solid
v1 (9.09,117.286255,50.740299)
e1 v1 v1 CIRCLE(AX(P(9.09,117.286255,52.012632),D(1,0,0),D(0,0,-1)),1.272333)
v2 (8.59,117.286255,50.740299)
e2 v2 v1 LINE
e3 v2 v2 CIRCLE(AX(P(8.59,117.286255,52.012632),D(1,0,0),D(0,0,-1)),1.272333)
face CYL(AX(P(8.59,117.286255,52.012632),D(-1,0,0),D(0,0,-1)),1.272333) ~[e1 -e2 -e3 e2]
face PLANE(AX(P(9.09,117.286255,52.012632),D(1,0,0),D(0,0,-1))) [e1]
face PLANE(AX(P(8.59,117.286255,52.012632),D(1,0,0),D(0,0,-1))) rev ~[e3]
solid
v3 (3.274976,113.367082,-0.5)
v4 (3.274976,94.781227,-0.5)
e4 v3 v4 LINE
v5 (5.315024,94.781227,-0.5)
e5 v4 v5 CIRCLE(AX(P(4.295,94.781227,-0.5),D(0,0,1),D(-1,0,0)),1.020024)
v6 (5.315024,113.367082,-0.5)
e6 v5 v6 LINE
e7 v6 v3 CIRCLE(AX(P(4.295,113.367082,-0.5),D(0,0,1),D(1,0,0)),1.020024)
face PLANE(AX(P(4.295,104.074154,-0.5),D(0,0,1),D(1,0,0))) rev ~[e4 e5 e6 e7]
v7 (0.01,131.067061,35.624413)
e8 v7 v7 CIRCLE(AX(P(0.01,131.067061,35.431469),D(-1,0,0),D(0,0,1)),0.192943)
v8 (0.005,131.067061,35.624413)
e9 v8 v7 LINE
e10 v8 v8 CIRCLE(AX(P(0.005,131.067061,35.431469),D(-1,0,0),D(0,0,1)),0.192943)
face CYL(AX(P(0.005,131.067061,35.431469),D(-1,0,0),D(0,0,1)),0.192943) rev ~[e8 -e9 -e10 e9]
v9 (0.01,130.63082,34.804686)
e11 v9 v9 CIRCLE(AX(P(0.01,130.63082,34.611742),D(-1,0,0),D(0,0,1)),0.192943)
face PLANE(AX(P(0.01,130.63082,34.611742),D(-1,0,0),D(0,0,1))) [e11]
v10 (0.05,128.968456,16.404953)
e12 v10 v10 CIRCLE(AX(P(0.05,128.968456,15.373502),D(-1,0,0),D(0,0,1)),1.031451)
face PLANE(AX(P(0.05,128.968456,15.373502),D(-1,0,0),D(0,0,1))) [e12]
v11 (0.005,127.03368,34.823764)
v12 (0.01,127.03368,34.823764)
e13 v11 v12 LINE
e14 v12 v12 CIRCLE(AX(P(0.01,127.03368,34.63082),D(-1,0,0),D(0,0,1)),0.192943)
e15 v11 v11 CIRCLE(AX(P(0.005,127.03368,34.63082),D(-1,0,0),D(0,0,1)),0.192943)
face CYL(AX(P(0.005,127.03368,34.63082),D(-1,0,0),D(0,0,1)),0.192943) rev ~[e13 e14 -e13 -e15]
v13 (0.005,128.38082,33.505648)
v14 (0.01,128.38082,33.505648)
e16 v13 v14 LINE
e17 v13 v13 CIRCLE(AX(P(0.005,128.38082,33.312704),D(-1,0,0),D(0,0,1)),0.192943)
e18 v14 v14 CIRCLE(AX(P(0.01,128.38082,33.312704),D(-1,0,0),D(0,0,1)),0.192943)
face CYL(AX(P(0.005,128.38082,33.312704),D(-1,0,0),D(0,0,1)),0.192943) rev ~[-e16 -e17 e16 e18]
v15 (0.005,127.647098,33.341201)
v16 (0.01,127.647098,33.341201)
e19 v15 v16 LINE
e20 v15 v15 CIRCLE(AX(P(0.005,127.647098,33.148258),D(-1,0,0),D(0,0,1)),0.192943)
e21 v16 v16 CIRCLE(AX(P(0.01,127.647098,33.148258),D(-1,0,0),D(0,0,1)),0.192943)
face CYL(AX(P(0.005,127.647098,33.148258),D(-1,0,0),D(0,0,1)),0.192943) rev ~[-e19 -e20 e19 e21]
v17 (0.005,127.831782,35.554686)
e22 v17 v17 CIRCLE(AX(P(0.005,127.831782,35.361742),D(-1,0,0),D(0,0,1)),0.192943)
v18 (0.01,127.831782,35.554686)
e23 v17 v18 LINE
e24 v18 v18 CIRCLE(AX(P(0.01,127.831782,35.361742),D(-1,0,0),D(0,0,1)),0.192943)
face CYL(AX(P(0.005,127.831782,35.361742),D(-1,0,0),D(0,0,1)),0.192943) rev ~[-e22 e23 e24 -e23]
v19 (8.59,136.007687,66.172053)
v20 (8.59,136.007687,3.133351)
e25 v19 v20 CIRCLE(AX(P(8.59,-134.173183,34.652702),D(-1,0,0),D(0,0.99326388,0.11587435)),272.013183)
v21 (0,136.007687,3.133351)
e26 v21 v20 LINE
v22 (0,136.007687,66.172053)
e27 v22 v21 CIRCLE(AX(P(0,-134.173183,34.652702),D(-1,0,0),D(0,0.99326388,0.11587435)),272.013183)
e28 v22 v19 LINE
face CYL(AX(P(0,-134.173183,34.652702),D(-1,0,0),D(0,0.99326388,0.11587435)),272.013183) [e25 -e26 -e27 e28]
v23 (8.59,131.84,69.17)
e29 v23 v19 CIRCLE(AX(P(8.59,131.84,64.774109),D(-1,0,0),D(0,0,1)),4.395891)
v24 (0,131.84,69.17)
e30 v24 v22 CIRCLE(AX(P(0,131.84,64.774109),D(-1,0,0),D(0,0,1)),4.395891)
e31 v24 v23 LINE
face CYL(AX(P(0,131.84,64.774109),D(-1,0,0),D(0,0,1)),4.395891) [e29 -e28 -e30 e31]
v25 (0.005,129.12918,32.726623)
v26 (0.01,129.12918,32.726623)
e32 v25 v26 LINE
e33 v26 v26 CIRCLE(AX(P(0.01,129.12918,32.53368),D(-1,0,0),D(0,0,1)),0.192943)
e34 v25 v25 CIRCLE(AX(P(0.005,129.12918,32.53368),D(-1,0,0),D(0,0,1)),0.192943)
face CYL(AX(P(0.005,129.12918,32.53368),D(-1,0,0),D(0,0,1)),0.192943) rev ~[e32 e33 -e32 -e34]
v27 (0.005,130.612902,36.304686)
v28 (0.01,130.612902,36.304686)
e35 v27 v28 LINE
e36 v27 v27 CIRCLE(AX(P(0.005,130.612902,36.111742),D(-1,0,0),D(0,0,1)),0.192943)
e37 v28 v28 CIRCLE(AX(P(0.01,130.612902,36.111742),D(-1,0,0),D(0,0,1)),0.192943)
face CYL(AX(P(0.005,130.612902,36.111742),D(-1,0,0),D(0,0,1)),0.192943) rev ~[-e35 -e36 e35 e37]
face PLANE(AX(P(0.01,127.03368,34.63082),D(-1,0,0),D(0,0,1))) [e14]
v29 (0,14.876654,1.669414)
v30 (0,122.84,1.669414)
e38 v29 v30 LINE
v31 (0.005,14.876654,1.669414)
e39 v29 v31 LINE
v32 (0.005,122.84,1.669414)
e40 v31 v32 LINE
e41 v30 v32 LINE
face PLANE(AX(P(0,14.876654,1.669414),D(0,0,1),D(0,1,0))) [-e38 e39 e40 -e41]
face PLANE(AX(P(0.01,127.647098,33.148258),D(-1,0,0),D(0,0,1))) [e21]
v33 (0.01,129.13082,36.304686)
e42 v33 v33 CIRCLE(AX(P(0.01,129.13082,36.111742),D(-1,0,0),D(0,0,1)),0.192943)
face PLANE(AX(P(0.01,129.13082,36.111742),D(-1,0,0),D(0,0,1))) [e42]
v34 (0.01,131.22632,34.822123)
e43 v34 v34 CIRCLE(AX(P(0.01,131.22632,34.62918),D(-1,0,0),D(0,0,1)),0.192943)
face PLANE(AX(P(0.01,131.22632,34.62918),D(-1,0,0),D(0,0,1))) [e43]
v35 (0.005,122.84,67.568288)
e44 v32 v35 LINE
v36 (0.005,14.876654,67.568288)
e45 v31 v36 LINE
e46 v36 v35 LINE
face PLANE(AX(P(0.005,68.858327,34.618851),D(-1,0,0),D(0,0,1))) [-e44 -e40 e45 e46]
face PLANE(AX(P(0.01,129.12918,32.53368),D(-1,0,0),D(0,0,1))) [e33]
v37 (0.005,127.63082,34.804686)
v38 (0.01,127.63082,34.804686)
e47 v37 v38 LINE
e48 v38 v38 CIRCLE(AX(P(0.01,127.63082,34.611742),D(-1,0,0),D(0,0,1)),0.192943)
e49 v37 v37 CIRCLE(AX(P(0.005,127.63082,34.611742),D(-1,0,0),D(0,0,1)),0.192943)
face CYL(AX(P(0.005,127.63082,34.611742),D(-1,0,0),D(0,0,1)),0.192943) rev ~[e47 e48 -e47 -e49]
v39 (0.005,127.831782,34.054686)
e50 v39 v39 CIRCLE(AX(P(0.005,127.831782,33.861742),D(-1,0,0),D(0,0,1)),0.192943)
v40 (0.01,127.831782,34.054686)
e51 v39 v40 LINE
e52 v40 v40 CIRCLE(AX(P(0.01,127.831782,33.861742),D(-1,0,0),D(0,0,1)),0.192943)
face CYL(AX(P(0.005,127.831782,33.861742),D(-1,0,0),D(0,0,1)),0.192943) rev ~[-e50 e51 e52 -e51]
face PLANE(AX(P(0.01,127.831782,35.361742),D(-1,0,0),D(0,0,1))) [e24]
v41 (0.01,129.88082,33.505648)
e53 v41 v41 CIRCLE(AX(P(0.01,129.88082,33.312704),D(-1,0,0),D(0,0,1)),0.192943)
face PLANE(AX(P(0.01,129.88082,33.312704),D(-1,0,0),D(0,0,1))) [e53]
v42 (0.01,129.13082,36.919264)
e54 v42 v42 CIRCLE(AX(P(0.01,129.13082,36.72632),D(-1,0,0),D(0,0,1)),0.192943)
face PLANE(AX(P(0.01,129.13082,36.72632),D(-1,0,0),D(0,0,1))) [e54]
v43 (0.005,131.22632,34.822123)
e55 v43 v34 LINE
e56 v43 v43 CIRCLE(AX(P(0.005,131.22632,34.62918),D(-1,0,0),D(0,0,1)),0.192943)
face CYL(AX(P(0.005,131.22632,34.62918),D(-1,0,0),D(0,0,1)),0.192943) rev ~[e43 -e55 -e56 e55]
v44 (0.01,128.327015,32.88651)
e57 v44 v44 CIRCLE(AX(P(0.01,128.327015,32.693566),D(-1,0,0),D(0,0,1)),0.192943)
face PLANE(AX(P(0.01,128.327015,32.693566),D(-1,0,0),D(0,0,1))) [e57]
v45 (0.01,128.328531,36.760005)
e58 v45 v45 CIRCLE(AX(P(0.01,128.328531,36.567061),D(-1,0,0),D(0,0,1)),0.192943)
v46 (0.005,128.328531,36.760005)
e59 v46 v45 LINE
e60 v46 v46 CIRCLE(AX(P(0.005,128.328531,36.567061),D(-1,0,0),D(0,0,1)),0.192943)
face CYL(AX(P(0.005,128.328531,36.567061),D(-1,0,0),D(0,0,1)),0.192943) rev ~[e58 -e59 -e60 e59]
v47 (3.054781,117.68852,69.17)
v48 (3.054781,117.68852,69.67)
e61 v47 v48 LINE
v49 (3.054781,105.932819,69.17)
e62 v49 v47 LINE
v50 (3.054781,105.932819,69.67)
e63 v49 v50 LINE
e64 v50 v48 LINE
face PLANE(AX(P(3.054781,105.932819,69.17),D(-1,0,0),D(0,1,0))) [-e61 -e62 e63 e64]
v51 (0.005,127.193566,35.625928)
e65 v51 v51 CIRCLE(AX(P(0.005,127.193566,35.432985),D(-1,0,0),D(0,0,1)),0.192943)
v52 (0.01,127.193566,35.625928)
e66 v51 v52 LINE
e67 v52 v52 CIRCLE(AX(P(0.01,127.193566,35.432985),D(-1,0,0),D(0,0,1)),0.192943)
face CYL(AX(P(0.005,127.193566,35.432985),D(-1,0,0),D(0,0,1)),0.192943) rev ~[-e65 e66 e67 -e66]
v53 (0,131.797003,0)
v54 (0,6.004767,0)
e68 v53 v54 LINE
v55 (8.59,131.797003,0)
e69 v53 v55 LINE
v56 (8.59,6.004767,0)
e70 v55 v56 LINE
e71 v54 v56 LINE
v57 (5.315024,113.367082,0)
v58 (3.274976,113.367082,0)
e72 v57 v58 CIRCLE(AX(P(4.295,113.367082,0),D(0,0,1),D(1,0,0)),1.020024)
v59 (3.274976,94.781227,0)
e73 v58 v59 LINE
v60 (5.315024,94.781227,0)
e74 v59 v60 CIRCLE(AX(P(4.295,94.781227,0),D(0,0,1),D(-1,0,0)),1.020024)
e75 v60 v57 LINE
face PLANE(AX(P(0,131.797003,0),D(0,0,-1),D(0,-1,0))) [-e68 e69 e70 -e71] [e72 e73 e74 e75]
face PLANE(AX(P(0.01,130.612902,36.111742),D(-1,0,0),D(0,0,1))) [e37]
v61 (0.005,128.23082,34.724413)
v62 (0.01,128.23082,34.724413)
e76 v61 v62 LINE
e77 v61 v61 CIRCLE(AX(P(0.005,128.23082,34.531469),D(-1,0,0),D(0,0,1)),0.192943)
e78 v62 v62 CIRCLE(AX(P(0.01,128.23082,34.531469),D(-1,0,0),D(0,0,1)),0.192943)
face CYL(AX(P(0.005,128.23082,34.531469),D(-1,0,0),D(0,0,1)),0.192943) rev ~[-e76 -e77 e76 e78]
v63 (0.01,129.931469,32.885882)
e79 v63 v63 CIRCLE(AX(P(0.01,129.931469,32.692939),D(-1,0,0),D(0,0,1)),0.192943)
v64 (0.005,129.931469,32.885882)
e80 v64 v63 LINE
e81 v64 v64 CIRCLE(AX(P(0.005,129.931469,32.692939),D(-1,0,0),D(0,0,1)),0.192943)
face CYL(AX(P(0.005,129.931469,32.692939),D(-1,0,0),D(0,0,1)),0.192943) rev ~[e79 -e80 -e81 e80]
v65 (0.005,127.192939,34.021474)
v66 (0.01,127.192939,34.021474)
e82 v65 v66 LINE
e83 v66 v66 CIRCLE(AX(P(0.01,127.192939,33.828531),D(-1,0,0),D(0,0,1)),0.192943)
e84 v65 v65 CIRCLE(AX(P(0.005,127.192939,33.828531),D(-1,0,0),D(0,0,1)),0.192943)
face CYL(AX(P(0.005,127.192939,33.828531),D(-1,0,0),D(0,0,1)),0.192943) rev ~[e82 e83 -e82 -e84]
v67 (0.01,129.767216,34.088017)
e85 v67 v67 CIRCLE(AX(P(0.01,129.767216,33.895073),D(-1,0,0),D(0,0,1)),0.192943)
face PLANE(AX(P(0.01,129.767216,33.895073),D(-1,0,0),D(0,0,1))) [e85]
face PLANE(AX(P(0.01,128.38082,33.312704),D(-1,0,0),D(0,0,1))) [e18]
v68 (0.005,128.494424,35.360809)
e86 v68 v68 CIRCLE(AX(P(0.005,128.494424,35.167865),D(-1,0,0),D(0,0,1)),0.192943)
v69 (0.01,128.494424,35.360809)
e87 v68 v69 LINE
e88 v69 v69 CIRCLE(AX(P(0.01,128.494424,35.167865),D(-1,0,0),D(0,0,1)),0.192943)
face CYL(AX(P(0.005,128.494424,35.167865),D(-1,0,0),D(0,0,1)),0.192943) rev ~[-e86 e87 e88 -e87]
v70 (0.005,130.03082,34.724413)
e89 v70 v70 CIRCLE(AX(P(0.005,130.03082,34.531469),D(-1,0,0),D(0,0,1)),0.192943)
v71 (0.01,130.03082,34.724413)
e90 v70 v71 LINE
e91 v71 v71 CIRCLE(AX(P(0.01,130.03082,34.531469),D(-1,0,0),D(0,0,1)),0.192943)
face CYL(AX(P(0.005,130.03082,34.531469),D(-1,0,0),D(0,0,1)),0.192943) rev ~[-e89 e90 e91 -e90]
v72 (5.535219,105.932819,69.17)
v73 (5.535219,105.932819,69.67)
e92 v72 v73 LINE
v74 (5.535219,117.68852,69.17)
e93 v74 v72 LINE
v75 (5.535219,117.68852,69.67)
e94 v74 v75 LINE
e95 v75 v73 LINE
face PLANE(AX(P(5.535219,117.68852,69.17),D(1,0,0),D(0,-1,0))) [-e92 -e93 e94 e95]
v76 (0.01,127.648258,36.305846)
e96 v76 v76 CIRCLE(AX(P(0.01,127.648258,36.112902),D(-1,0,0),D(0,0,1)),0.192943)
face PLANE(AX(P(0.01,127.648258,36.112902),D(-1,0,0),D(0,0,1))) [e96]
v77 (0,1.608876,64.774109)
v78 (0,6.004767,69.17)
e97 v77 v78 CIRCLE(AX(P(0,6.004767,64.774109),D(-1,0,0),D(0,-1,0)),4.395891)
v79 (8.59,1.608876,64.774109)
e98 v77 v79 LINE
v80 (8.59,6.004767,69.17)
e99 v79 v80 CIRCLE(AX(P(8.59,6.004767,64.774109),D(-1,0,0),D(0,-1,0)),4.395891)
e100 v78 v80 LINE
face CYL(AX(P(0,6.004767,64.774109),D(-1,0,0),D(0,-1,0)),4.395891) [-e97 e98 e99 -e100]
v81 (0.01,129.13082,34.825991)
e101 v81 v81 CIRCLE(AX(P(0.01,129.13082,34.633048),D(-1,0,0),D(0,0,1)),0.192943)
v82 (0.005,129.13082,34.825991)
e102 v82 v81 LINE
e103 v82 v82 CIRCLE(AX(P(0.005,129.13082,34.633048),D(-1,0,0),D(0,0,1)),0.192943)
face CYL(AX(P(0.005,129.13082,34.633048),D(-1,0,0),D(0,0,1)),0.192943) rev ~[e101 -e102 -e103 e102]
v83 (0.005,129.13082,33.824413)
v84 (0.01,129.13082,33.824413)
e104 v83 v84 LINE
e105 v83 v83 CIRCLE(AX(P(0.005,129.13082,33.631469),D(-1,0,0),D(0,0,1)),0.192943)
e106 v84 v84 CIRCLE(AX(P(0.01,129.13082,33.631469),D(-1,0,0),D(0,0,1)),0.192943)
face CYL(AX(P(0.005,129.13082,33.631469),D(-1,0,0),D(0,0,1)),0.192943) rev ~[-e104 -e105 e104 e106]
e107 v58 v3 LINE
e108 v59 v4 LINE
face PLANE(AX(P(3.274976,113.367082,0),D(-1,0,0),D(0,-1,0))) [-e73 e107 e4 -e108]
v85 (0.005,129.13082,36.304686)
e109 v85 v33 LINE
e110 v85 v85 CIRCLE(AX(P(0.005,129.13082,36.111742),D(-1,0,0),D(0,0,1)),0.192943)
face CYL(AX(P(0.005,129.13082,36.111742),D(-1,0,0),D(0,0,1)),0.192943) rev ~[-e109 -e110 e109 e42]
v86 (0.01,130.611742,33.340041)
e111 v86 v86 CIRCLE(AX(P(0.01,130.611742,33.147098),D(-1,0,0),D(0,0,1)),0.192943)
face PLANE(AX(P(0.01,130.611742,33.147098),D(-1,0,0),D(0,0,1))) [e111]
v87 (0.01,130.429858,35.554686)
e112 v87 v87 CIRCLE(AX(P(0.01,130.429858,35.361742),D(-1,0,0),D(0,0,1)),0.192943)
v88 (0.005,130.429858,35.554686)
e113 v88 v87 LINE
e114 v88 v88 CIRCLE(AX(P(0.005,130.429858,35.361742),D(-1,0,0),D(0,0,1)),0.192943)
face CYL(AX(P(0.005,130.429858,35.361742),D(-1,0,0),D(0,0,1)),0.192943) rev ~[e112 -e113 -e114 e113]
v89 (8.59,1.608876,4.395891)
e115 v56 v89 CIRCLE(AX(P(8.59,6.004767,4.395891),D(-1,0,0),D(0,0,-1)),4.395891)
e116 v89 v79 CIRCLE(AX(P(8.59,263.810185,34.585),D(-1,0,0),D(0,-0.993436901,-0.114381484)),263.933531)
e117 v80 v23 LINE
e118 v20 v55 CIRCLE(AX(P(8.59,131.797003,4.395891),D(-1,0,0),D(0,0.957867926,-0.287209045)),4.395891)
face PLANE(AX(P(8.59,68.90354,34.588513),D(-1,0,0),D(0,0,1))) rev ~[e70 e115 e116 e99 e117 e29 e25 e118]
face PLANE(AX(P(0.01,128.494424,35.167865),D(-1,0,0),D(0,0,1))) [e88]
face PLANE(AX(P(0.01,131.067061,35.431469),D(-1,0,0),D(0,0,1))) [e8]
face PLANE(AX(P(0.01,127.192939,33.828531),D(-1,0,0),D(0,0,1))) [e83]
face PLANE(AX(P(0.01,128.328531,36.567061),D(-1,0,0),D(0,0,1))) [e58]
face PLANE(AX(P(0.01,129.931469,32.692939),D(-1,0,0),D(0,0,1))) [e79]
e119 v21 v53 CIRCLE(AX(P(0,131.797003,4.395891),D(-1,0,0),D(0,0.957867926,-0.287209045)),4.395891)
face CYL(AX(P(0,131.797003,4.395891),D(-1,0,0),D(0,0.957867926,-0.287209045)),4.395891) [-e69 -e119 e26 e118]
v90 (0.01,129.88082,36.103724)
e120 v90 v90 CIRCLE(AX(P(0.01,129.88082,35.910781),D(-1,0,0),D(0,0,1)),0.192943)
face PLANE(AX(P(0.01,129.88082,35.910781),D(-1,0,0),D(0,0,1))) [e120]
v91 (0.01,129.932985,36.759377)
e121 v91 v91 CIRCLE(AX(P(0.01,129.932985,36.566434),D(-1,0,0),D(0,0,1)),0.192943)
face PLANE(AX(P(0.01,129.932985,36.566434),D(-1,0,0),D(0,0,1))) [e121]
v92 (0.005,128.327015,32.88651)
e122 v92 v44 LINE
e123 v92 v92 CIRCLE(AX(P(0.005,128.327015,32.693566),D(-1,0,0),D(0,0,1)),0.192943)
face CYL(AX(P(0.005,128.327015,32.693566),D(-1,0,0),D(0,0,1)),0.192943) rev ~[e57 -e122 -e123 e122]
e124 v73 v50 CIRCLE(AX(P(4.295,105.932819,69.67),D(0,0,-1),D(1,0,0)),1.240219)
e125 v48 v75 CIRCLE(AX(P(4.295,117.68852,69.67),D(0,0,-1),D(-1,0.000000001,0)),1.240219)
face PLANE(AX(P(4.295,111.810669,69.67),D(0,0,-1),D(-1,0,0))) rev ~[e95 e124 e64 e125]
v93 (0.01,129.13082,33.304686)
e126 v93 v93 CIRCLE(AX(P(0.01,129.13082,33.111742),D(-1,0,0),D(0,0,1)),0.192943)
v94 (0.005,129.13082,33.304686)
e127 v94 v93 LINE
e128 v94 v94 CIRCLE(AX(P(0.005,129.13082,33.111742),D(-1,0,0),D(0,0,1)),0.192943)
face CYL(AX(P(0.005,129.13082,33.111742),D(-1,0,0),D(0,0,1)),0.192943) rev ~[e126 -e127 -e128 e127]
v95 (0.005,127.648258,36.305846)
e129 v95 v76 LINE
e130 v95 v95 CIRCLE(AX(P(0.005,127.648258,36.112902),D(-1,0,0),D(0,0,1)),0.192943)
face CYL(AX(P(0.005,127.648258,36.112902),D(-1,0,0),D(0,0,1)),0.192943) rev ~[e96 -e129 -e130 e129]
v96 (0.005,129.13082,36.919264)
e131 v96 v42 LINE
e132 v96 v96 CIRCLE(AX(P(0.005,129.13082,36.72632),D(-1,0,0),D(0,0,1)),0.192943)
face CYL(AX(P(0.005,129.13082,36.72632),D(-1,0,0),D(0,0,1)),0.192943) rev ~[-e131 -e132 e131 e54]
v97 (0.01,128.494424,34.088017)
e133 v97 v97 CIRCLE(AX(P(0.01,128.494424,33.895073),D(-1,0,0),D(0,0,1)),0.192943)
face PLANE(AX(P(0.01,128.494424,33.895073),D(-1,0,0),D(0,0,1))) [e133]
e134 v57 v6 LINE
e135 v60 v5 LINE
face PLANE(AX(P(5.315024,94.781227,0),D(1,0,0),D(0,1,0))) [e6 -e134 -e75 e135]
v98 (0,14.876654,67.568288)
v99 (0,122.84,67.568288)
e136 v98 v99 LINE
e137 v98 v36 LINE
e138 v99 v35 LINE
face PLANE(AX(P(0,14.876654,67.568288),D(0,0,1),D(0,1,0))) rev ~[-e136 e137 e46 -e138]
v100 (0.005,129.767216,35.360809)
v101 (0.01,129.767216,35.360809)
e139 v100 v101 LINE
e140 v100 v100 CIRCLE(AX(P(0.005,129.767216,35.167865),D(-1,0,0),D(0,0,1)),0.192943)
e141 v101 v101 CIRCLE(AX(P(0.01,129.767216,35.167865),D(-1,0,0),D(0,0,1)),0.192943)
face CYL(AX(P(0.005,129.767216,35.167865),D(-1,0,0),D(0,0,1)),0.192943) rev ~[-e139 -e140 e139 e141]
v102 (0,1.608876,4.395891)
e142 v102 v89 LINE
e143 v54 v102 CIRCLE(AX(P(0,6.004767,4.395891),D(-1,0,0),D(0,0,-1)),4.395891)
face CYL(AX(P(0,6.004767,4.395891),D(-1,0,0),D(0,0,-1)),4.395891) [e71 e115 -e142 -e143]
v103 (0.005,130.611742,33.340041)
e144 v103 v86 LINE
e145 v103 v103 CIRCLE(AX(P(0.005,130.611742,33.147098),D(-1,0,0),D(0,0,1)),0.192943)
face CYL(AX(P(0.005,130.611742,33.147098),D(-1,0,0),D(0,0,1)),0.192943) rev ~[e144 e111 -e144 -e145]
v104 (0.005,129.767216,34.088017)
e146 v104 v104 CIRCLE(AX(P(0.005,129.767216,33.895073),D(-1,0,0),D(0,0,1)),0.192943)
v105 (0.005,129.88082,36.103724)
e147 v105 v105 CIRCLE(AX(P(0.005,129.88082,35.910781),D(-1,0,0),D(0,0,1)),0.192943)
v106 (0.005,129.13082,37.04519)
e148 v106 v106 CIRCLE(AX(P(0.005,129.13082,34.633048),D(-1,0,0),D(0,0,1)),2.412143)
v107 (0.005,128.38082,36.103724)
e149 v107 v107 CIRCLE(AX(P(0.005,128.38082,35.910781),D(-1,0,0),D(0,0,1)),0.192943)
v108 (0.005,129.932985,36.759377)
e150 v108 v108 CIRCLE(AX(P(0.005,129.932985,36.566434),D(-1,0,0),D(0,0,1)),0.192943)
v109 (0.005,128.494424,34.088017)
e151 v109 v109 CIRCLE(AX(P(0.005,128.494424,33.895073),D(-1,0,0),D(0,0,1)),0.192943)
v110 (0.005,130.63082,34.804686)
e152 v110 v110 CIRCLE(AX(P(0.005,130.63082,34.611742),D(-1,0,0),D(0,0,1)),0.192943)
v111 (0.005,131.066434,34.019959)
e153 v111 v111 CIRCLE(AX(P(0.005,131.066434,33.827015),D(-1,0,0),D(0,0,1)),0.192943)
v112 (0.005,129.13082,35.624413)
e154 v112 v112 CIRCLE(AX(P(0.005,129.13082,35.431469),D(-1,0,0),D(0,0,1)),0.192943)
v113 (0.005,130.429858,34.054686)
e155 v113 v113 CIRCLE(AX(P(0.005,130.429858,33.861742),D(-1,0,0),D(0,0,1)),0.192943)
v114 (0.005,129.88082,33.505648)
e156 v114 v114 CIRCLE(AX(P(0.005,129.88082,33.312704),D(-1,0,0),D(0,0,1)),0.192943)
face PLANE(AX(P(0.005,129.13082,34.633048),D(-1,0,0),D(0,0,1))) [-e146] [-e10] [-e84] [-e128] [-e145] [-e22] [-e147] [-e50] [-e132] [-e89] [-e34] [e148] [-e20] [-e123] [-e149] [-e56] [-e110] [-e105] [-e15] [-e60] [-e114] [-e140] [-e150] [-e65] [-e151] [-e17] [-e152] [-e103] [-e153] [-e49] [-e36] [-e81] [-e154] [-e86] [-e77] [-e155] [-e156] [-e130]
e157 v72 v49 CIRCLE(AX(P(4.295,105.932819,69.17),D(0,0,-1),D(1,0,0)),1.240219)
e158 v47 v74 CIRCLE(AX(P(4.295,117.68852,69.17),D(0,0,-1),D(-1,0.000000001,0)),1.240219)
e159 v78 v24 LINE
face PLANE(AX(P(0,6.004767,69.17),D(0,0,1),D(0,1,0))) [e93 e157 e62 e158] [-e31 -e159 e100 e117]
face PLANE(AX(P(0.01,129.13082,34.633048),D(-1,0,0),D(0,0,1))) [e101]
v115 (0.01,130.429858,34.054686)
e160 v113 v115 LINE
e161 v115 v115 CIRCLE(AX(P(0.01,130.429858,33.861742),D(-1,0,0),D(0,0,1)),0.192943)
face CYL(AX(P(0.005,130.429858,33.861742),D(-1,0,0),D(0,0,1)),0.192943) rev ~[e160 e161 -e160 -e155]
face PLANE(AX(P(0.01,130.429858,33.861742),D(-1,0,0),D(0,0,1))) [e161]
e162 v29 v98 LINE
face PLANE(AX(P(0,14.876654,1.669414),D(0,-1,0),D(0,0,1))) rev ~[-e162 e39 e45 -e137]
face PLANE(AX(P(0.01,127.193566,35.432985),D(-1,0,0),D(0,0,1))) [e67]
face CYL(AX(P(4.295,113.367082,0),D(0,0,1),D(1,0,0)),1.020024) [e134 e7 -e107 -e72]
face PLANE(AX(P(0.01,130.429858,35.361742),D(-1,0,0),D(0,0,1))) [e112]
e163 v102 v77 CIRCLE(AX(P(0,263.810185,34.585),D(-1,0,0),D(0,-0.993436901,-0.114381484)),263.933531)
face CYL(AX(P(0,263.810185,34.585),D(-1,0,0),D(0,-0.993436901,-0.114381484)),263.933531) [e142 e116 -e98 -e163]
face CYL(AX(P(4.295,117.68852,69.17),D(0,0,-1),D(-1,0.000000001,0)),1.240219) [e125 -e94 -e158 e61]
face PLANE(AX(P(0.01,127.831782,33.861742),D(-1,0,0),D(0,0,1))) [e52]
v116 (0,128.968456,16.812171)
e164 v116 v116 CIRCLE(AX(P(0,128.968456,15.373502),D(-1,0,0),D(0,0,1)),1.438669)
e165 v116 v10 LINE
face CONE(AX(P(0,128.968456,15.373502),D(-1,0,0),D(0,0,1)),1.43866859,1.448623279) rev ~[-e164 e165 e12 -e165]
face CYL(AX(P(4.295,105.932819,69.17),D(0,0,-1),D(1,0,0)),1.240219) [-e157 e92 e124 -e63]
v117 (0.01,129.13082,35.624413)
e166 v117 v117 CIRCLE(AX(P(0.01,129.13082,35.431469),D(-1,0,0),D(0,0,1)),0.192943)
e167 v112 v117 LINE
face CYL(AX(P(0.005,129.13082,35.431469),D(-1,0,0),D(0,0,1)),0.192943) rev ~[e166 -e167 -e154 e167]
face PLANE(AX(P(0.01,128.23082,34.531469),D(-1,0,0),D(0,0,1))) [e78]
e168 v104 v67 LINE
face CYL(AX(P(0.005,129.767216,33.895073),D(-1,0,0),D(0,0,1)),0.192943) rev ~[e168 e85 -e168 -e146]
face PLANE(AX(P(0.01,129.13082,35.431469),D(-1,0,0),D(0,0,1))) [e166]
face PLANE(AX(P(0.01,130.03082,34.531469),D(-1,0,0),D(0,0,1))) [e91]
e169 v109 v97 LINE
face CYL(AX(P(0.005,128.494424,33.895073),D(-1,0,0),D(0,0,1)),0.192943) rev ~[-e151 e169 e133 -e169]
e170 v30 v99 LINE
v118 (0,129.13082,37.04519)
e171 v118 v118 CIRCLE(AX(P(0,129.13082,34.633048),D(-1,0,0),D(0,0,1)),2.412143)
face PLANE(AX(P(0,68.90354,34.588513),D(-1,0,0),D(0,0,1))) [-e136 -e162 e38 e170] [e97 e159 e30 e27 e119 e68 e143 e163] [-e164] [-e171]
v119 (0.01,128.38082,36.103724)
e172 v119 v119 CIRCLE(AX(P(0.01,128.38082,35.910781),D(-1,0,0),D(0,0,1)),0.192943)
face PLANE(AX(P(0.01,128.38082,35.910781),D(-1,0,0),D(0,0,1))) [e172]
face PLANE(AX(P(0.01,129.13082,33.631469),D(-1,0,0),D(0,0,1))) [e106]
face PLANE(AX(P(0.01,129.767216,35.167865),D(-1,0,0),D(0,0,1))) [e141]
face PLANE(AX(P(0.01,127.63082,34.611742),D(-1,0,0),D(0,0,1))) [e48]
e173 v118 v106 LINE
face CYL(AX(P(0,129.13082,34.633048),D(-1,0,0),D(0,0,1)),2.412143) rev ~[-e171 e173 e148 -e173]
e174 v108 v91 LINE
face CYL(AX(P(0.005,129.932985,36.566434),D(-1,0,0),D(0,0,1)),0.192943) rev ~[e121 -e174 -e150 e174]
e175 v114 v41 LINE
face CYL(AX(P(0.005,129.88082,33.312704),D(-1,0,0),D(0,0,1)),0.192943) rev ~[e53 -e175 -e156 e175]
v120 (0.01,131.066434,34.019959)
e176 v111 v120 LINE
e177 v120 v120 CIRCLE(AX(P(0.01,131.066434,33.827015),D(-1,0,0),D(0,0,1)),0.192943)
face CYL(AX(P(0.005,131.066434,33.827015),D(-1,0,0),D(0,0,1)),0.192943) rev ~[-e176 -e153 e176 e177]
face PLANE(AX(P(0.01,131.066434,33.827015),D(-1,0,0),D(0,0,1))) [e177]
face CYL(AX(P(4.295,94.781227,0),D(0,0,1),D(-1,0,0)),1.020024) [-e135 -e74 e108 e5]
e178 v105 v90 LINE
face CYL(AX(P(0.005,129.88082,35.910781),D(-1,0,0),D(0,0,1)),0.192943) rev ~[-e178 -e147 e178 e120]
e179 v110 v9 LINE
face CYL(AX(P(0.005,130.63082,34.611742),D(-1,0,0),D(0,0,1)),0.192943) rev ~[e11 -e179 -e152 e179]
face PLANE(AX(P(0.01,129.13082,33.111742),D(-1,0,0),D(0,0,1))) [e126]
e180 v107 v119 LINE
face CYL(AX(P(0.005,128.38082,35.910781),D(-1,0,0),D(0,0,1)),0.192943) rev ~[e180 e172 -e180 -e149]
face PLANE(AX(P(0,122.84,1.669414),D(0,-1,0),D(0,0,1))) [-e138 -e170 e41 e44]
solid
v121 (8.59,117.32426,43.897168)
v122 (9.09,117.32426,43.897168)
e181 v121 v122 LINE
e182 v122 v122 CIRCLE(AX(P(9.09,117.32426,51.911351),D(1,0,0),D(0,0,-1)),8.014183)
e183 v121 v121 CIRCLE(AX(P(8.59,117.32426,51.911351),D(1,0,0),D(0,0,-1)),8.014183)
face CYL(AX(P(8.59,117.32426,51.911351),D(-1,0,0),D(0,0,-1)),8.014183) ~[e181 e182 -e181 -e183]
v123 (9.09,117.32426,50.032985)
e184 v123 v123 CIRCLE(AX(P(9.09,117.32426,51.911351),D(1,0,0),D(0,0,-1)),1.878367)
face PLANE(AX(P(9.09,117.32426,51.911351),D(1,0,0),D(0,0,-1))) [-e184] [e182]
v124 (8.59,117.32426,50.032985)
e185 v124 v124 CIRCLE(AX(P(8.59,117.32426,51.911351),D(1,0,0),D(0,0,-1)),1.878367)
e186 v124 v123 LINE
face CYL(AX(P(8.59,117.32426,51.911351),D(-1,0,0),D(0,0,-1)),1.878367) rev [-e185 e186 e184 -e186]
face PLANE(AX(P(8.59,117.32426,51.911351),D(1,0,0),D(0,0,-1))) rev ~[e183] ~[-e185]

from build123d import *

# Parameters (mm, degrees)
BOSS_EXTRU_2_DEPTH      = 8.59
ESQUISSE2_W             = 65.898874386
ESQUISSE2_H             = 107.963346122
ENL_V_MAT_EXTRU_1_DEPTH = 0.005
ESQUISSE3_R             = 2.412142612
ENL_V_MAT_EXTRU_2_DEPTH = 0.005
ESQUISSE4_R             = 0.192943447
ENL_V_MAT_EXTRU_3_DEPTH = 0.005
ESQUISSE5_R             = 1.43866859
ENL_V_MAT_EXTRU_4_DEPTH = 0.05
ENL_V_MAT_EXTRU_4_DRAFT = -83
ESQUISSE6_R             = 8.014182706
ESQUISSE6_R_2           = 1.878366617
BOSS_EXTRU_4_DEPTH      = 0.5
ESQUISSE9_R             = 1.272333161
BOSS_EXTRU_6_DEPTH      = 0.5
BOSS_EXTRU_7_DEPTH      = 0.5
BOSS_EXTRU_8_DEPTH      = 0.5


with BuildPart() as part:
    # Esquisse1 → Boss.-Extru.2 (new body)
    with BuildSketch(Plane(origin=(0, 0, 0), x_dir=(0, 0, -1), z_dir=(1, 0, 0))):
        with BuildLine():
            ThreePointArc((-64.77410887, 1.608875783), (-67.882473298, 2.896402486), (-69.17, 6.004766913))
            Line((-69.17, 6.004766913), (-69.17, 131.84))
            ThreePointArc((-69.17, 131.84), (-68.342656845, 134.406967896), (-66.17205306, 136.007686512))
            ThreePointArc((-66.17205306, 136.007686512), (-34.652702248, 137.84), (-3.133351436, 136.007686512))
            ThreePointArc((-3.133351436, 136.007686512), (-0.86928895, 134.42130061), (0, 131.797003391))
            Line((0, 131.797003391), (0, 6.004766913))
            ThreePointArc((0, 6.004766913), (-1.287526702, 2.896402486), (-4.39589113, 1.608875783))
            ThreePointArc((-4.39589113, 1.608875783), (-34.585, -0.123346122), (-64.77410887, 1.608875783))
        make_face()
    extrude(amount=BOSS_EXTRU_2_DEPTH)

    # Esquisse2 → Enlèv. mat.-Extru.1 (cut)
    with BuildSketch(Plane.ZY):
        with Locations((34.618851124, 68.858326939)):
            Rectangle(ESQUISSE2_W, ESQUISSE2_H)
    extrude(amount=-ENL_V_MAT_EXTRU_1_DEPTH, mode=Mode.SUBTRACT)

    # Esquisse3 → Enlèv. mat.-Extru.2 (cut)
    with BuildSketch(Plane.ZY):
        with Locations((34.63304788, 129.130820167)):
            Circle(ESQUISSE3_R)
    extrude(amount=-ENL_V_MAT_EXTRU_2_DEPTH, mode=Mode.SUBTRACT)

    # Esquisse4 → Enlèv. mat.-Extru.3 (cut)
    with BuildSketch(Plane.ZY.offset(-0.005)):
        with Locations((36.726320497, 129.130820167)):
            Circle(ESQUISSE4_R)
        with Locations((36.567061466, 128.328530612)):
            Circle(ESQUISSE4_R)
        with Locations((36.112902385, 127.648257506)):
            Circle(ESQUISSE4_R)
        with Locations((35.432984859, 127.193566263)):
            Circle(ESQUISSE4_R)
        with Locations((34.630820167, 127.033679503)):
            Circle(ESQUISSE4_R)
        with Locations((33.828530612, 127.192938534)):
            Circle(ESQUISSE4_R)
        with Locations((33.148257506, 127.647097615)):
            Circle(ESQUISSE4_R)
        with Locations((32.693566263, 128.327015141)):
            Circle(ESQUISSE4_R)
        with Locations((32.533679503, 129.129179833)):
            Circle(ESQUISSE4_R)
        with Locations((32.692938534, 129.931469388)):
            Circle(ESQUISSE4_R)
        with Locations((33.147097615, 130.611742494)):
            Circle(ESQUISSE4_R)
        with Locations((33.827015141, 131.066433737)):
            Circle(ESQUISSE4_R)
        with Locations((34.629179833, 131.226320497)):
            Circle(ESQUISSE4_R)
        with Locations((35.431469388, 131.067061466)):
            Circle(ESQUISSE4_R)
        with Locations((36.111742494, 130.612902385)):
            Circle(ESQUISSE4_R)
        with Locations((36.566433737, 129.932984859)):
            Circle(ESQUISSE4_R)
        with Locations((36.111742494, 129.130820167)):
            Circle(ESQUISSE4_R)
        with Locations((35.431469388, 129.130820167)):
            Circle(ESQUISSE4_R)
        with Locations((34.63304788, 129.130820167)):
            Circle(ESQUISSE4_R)
        with Locations((35.910780599, 128.380820167)):
            Circle(ESQUISSE4_R)
        with Locations((35.361742494, 127.831782061)):
            Circle(ESQUISSE4_R)
        with Locations((34.611742494, 127.630820167)):
            Circle(ESQUISSE4_R)
        with Locations((33.861742494, 127.831782061)):
            Circle(ESQUISSE4_R)
        with Locations((33.312704388, 128.380820167)):
            Circle(ESQUISSE4_R)
        with Locations((33.111742494, 129.130820167)):
            Circle(ESQUISSE4_R)
        with Locations((33.312704388, 129.880820167)):
            Circle(ESQUISSE4_R)
        with Locations((33.861742494, 130.429858273)):
            Circle(ESQUISSE4_R)
        with Locations((34.611742494, 130.630820167)):
            Circle(ESQUISSE4_R)
        with Locations((35.361742494, 130.429858273)):
            Circle(ESQUISSE4_R)
        with Locations((35.910780599, 129.880820167)):
            Circle(ESQUISSE4_R)
        with Locations((35.167865491, 128.494424064)):
            Circle(ESQUISSE4_R)
        with Locations((34.531469388, 128.230820167)):
            Circle(ESQUISSE4_R)
        with Locations((33.895073285, 128.494424064)):
            Circle(ESQUISSE4_R)
        with Locations((33.631469388, 129.130820167)):
            Circle(ESQUISSE4_R)
        with Locations((33.895073285, 129.76721627)):
            Circle(ESQUISSE4_R)
        with Locations((34.531469388, 130.030820167)):
            Circle(ESQUISSE4_R)
        with Locations((35.167865491, 129.76721627)):
            Circle(ESQUISSE4_R)
    extrude(amount=-ENL_V_MAT_EXTRU_3_DEPTH, mode=Mode.SUBTRACT)


with BuildPart() as enl_v_mat_extru_4_tool:
    # Esquisse5 → Enlèv. mat.-Extru.4 (with draft: the straight prism first)
    with BuildSketch(Plane.ZY):
        with Locations((15.373502025, 128.968455562)):
            Circle(ESQUISSE5_R)
    extrude(amount=-ENL_V_MAT_EXTRU_4_DEPTH)
    # Enlèv. mat.-Extru.4: the draft: its side faces are tilted about the plane it starts from
    enl_v_mat_extru_4_sides = [enl_v_mat_extru_4_tool.faces().sort_by_distance(p)[0] for p in [
        (0.025, 128.968455562, 13.934833435),
    ]]
    draft(enl_v_mat_extru_4_sides, Plane.ZY, ENL_V_MAT_EXTRU_4_DRAFT)


with BuildPart() as part_1:
    add(part.part)

    # Enlèv. mat.-Extru.4: cut by enl_v_mat_extru_4_tool
    add(enl_v_mat_extru_4_tool.part, mode=Mode.SUBTRACT)

    # Esquisse10 → Boss.-Extru.7 (add)
    with BuildSketch(Plane(origin=(0, 0, 0), x_dir=(-1, 0, 0), z_dir=(0, 0, -1))):
        with BuildLine():
            Line((-3.27497576, 113.367082092), (-3.27497576, 94.781226641))
            ThreePointArc((-3.27497576, 94.781226641), (-4.295, 93.761202401), (-5.31502424, 94.781226641))
            Line((-5.31502424, 94.781226641), (-5.31502424, 113.367082092))
            ThreePointArc((-5.31502424, 113.367082092), (-4.295, 114.387106332), (-3.27497576, 113.367082092))
        make_face()
    extrude(amount=BOSS_EXTRU_7_DEPTH)

    # Esquisse11 → Boss.-Extru.8 (add)
    with BuildSketch(Plane.XY.offset(69.17)):
        with BuildLine():
            Line((5.535218505, 117.688519716), (5.535218505, 105.932818998))
            ThreePointArc((5.535218505, 105.932818998), (4.295, 104.692600493), (3.054781495, 105.932818998))
            Line((3.054781495, 105.932818998), (3.054781495, 117.688519716))
            ThreePointArc((3.054781495, 117.688519716), (4.295, 118.92873822), (5.535218505, 117.688519716))
        make_face()
    extrude(amount=BOSS_EXTRU_8_DEPTH)


with BuildPart() as body_2:
    # Esquisse6 → Boss.-Extru.4 (new body)
    with BuildSketch(Plane(origin=(8.59, 0, 0), x_dir=(0, 0, -1), z_dir=(1, 0, 0))):
        with Locations((-51.911351124, 117.324260336)):
            Circle(ESQUISSE6_R)
        with Locations((-51.911351124, 117.324260336)):
            Circle(ESQUISSE6_R_2, mode=Mode.SUBTRACT)
    extrude(amount=BOSS_EXTRU_4_DEPTH)


with BuildPart() as body_3:
    # Esquisse9 → Boss.-Extru.6 (new body)
    with BuildSketch(Plane(origin=(8.59, 0, 0), x_dir=(0, 0, -1), z_dir=(1, 0, 0))):
        with Locations((-52.012632367, 117.286255361)):
            Circle(ESQUISSE9_R)
    extrude(amount=BOSS_EXTRU_6_DEPTH)


solid = Compound([part_1.part, body_2.part, body_3.part])
